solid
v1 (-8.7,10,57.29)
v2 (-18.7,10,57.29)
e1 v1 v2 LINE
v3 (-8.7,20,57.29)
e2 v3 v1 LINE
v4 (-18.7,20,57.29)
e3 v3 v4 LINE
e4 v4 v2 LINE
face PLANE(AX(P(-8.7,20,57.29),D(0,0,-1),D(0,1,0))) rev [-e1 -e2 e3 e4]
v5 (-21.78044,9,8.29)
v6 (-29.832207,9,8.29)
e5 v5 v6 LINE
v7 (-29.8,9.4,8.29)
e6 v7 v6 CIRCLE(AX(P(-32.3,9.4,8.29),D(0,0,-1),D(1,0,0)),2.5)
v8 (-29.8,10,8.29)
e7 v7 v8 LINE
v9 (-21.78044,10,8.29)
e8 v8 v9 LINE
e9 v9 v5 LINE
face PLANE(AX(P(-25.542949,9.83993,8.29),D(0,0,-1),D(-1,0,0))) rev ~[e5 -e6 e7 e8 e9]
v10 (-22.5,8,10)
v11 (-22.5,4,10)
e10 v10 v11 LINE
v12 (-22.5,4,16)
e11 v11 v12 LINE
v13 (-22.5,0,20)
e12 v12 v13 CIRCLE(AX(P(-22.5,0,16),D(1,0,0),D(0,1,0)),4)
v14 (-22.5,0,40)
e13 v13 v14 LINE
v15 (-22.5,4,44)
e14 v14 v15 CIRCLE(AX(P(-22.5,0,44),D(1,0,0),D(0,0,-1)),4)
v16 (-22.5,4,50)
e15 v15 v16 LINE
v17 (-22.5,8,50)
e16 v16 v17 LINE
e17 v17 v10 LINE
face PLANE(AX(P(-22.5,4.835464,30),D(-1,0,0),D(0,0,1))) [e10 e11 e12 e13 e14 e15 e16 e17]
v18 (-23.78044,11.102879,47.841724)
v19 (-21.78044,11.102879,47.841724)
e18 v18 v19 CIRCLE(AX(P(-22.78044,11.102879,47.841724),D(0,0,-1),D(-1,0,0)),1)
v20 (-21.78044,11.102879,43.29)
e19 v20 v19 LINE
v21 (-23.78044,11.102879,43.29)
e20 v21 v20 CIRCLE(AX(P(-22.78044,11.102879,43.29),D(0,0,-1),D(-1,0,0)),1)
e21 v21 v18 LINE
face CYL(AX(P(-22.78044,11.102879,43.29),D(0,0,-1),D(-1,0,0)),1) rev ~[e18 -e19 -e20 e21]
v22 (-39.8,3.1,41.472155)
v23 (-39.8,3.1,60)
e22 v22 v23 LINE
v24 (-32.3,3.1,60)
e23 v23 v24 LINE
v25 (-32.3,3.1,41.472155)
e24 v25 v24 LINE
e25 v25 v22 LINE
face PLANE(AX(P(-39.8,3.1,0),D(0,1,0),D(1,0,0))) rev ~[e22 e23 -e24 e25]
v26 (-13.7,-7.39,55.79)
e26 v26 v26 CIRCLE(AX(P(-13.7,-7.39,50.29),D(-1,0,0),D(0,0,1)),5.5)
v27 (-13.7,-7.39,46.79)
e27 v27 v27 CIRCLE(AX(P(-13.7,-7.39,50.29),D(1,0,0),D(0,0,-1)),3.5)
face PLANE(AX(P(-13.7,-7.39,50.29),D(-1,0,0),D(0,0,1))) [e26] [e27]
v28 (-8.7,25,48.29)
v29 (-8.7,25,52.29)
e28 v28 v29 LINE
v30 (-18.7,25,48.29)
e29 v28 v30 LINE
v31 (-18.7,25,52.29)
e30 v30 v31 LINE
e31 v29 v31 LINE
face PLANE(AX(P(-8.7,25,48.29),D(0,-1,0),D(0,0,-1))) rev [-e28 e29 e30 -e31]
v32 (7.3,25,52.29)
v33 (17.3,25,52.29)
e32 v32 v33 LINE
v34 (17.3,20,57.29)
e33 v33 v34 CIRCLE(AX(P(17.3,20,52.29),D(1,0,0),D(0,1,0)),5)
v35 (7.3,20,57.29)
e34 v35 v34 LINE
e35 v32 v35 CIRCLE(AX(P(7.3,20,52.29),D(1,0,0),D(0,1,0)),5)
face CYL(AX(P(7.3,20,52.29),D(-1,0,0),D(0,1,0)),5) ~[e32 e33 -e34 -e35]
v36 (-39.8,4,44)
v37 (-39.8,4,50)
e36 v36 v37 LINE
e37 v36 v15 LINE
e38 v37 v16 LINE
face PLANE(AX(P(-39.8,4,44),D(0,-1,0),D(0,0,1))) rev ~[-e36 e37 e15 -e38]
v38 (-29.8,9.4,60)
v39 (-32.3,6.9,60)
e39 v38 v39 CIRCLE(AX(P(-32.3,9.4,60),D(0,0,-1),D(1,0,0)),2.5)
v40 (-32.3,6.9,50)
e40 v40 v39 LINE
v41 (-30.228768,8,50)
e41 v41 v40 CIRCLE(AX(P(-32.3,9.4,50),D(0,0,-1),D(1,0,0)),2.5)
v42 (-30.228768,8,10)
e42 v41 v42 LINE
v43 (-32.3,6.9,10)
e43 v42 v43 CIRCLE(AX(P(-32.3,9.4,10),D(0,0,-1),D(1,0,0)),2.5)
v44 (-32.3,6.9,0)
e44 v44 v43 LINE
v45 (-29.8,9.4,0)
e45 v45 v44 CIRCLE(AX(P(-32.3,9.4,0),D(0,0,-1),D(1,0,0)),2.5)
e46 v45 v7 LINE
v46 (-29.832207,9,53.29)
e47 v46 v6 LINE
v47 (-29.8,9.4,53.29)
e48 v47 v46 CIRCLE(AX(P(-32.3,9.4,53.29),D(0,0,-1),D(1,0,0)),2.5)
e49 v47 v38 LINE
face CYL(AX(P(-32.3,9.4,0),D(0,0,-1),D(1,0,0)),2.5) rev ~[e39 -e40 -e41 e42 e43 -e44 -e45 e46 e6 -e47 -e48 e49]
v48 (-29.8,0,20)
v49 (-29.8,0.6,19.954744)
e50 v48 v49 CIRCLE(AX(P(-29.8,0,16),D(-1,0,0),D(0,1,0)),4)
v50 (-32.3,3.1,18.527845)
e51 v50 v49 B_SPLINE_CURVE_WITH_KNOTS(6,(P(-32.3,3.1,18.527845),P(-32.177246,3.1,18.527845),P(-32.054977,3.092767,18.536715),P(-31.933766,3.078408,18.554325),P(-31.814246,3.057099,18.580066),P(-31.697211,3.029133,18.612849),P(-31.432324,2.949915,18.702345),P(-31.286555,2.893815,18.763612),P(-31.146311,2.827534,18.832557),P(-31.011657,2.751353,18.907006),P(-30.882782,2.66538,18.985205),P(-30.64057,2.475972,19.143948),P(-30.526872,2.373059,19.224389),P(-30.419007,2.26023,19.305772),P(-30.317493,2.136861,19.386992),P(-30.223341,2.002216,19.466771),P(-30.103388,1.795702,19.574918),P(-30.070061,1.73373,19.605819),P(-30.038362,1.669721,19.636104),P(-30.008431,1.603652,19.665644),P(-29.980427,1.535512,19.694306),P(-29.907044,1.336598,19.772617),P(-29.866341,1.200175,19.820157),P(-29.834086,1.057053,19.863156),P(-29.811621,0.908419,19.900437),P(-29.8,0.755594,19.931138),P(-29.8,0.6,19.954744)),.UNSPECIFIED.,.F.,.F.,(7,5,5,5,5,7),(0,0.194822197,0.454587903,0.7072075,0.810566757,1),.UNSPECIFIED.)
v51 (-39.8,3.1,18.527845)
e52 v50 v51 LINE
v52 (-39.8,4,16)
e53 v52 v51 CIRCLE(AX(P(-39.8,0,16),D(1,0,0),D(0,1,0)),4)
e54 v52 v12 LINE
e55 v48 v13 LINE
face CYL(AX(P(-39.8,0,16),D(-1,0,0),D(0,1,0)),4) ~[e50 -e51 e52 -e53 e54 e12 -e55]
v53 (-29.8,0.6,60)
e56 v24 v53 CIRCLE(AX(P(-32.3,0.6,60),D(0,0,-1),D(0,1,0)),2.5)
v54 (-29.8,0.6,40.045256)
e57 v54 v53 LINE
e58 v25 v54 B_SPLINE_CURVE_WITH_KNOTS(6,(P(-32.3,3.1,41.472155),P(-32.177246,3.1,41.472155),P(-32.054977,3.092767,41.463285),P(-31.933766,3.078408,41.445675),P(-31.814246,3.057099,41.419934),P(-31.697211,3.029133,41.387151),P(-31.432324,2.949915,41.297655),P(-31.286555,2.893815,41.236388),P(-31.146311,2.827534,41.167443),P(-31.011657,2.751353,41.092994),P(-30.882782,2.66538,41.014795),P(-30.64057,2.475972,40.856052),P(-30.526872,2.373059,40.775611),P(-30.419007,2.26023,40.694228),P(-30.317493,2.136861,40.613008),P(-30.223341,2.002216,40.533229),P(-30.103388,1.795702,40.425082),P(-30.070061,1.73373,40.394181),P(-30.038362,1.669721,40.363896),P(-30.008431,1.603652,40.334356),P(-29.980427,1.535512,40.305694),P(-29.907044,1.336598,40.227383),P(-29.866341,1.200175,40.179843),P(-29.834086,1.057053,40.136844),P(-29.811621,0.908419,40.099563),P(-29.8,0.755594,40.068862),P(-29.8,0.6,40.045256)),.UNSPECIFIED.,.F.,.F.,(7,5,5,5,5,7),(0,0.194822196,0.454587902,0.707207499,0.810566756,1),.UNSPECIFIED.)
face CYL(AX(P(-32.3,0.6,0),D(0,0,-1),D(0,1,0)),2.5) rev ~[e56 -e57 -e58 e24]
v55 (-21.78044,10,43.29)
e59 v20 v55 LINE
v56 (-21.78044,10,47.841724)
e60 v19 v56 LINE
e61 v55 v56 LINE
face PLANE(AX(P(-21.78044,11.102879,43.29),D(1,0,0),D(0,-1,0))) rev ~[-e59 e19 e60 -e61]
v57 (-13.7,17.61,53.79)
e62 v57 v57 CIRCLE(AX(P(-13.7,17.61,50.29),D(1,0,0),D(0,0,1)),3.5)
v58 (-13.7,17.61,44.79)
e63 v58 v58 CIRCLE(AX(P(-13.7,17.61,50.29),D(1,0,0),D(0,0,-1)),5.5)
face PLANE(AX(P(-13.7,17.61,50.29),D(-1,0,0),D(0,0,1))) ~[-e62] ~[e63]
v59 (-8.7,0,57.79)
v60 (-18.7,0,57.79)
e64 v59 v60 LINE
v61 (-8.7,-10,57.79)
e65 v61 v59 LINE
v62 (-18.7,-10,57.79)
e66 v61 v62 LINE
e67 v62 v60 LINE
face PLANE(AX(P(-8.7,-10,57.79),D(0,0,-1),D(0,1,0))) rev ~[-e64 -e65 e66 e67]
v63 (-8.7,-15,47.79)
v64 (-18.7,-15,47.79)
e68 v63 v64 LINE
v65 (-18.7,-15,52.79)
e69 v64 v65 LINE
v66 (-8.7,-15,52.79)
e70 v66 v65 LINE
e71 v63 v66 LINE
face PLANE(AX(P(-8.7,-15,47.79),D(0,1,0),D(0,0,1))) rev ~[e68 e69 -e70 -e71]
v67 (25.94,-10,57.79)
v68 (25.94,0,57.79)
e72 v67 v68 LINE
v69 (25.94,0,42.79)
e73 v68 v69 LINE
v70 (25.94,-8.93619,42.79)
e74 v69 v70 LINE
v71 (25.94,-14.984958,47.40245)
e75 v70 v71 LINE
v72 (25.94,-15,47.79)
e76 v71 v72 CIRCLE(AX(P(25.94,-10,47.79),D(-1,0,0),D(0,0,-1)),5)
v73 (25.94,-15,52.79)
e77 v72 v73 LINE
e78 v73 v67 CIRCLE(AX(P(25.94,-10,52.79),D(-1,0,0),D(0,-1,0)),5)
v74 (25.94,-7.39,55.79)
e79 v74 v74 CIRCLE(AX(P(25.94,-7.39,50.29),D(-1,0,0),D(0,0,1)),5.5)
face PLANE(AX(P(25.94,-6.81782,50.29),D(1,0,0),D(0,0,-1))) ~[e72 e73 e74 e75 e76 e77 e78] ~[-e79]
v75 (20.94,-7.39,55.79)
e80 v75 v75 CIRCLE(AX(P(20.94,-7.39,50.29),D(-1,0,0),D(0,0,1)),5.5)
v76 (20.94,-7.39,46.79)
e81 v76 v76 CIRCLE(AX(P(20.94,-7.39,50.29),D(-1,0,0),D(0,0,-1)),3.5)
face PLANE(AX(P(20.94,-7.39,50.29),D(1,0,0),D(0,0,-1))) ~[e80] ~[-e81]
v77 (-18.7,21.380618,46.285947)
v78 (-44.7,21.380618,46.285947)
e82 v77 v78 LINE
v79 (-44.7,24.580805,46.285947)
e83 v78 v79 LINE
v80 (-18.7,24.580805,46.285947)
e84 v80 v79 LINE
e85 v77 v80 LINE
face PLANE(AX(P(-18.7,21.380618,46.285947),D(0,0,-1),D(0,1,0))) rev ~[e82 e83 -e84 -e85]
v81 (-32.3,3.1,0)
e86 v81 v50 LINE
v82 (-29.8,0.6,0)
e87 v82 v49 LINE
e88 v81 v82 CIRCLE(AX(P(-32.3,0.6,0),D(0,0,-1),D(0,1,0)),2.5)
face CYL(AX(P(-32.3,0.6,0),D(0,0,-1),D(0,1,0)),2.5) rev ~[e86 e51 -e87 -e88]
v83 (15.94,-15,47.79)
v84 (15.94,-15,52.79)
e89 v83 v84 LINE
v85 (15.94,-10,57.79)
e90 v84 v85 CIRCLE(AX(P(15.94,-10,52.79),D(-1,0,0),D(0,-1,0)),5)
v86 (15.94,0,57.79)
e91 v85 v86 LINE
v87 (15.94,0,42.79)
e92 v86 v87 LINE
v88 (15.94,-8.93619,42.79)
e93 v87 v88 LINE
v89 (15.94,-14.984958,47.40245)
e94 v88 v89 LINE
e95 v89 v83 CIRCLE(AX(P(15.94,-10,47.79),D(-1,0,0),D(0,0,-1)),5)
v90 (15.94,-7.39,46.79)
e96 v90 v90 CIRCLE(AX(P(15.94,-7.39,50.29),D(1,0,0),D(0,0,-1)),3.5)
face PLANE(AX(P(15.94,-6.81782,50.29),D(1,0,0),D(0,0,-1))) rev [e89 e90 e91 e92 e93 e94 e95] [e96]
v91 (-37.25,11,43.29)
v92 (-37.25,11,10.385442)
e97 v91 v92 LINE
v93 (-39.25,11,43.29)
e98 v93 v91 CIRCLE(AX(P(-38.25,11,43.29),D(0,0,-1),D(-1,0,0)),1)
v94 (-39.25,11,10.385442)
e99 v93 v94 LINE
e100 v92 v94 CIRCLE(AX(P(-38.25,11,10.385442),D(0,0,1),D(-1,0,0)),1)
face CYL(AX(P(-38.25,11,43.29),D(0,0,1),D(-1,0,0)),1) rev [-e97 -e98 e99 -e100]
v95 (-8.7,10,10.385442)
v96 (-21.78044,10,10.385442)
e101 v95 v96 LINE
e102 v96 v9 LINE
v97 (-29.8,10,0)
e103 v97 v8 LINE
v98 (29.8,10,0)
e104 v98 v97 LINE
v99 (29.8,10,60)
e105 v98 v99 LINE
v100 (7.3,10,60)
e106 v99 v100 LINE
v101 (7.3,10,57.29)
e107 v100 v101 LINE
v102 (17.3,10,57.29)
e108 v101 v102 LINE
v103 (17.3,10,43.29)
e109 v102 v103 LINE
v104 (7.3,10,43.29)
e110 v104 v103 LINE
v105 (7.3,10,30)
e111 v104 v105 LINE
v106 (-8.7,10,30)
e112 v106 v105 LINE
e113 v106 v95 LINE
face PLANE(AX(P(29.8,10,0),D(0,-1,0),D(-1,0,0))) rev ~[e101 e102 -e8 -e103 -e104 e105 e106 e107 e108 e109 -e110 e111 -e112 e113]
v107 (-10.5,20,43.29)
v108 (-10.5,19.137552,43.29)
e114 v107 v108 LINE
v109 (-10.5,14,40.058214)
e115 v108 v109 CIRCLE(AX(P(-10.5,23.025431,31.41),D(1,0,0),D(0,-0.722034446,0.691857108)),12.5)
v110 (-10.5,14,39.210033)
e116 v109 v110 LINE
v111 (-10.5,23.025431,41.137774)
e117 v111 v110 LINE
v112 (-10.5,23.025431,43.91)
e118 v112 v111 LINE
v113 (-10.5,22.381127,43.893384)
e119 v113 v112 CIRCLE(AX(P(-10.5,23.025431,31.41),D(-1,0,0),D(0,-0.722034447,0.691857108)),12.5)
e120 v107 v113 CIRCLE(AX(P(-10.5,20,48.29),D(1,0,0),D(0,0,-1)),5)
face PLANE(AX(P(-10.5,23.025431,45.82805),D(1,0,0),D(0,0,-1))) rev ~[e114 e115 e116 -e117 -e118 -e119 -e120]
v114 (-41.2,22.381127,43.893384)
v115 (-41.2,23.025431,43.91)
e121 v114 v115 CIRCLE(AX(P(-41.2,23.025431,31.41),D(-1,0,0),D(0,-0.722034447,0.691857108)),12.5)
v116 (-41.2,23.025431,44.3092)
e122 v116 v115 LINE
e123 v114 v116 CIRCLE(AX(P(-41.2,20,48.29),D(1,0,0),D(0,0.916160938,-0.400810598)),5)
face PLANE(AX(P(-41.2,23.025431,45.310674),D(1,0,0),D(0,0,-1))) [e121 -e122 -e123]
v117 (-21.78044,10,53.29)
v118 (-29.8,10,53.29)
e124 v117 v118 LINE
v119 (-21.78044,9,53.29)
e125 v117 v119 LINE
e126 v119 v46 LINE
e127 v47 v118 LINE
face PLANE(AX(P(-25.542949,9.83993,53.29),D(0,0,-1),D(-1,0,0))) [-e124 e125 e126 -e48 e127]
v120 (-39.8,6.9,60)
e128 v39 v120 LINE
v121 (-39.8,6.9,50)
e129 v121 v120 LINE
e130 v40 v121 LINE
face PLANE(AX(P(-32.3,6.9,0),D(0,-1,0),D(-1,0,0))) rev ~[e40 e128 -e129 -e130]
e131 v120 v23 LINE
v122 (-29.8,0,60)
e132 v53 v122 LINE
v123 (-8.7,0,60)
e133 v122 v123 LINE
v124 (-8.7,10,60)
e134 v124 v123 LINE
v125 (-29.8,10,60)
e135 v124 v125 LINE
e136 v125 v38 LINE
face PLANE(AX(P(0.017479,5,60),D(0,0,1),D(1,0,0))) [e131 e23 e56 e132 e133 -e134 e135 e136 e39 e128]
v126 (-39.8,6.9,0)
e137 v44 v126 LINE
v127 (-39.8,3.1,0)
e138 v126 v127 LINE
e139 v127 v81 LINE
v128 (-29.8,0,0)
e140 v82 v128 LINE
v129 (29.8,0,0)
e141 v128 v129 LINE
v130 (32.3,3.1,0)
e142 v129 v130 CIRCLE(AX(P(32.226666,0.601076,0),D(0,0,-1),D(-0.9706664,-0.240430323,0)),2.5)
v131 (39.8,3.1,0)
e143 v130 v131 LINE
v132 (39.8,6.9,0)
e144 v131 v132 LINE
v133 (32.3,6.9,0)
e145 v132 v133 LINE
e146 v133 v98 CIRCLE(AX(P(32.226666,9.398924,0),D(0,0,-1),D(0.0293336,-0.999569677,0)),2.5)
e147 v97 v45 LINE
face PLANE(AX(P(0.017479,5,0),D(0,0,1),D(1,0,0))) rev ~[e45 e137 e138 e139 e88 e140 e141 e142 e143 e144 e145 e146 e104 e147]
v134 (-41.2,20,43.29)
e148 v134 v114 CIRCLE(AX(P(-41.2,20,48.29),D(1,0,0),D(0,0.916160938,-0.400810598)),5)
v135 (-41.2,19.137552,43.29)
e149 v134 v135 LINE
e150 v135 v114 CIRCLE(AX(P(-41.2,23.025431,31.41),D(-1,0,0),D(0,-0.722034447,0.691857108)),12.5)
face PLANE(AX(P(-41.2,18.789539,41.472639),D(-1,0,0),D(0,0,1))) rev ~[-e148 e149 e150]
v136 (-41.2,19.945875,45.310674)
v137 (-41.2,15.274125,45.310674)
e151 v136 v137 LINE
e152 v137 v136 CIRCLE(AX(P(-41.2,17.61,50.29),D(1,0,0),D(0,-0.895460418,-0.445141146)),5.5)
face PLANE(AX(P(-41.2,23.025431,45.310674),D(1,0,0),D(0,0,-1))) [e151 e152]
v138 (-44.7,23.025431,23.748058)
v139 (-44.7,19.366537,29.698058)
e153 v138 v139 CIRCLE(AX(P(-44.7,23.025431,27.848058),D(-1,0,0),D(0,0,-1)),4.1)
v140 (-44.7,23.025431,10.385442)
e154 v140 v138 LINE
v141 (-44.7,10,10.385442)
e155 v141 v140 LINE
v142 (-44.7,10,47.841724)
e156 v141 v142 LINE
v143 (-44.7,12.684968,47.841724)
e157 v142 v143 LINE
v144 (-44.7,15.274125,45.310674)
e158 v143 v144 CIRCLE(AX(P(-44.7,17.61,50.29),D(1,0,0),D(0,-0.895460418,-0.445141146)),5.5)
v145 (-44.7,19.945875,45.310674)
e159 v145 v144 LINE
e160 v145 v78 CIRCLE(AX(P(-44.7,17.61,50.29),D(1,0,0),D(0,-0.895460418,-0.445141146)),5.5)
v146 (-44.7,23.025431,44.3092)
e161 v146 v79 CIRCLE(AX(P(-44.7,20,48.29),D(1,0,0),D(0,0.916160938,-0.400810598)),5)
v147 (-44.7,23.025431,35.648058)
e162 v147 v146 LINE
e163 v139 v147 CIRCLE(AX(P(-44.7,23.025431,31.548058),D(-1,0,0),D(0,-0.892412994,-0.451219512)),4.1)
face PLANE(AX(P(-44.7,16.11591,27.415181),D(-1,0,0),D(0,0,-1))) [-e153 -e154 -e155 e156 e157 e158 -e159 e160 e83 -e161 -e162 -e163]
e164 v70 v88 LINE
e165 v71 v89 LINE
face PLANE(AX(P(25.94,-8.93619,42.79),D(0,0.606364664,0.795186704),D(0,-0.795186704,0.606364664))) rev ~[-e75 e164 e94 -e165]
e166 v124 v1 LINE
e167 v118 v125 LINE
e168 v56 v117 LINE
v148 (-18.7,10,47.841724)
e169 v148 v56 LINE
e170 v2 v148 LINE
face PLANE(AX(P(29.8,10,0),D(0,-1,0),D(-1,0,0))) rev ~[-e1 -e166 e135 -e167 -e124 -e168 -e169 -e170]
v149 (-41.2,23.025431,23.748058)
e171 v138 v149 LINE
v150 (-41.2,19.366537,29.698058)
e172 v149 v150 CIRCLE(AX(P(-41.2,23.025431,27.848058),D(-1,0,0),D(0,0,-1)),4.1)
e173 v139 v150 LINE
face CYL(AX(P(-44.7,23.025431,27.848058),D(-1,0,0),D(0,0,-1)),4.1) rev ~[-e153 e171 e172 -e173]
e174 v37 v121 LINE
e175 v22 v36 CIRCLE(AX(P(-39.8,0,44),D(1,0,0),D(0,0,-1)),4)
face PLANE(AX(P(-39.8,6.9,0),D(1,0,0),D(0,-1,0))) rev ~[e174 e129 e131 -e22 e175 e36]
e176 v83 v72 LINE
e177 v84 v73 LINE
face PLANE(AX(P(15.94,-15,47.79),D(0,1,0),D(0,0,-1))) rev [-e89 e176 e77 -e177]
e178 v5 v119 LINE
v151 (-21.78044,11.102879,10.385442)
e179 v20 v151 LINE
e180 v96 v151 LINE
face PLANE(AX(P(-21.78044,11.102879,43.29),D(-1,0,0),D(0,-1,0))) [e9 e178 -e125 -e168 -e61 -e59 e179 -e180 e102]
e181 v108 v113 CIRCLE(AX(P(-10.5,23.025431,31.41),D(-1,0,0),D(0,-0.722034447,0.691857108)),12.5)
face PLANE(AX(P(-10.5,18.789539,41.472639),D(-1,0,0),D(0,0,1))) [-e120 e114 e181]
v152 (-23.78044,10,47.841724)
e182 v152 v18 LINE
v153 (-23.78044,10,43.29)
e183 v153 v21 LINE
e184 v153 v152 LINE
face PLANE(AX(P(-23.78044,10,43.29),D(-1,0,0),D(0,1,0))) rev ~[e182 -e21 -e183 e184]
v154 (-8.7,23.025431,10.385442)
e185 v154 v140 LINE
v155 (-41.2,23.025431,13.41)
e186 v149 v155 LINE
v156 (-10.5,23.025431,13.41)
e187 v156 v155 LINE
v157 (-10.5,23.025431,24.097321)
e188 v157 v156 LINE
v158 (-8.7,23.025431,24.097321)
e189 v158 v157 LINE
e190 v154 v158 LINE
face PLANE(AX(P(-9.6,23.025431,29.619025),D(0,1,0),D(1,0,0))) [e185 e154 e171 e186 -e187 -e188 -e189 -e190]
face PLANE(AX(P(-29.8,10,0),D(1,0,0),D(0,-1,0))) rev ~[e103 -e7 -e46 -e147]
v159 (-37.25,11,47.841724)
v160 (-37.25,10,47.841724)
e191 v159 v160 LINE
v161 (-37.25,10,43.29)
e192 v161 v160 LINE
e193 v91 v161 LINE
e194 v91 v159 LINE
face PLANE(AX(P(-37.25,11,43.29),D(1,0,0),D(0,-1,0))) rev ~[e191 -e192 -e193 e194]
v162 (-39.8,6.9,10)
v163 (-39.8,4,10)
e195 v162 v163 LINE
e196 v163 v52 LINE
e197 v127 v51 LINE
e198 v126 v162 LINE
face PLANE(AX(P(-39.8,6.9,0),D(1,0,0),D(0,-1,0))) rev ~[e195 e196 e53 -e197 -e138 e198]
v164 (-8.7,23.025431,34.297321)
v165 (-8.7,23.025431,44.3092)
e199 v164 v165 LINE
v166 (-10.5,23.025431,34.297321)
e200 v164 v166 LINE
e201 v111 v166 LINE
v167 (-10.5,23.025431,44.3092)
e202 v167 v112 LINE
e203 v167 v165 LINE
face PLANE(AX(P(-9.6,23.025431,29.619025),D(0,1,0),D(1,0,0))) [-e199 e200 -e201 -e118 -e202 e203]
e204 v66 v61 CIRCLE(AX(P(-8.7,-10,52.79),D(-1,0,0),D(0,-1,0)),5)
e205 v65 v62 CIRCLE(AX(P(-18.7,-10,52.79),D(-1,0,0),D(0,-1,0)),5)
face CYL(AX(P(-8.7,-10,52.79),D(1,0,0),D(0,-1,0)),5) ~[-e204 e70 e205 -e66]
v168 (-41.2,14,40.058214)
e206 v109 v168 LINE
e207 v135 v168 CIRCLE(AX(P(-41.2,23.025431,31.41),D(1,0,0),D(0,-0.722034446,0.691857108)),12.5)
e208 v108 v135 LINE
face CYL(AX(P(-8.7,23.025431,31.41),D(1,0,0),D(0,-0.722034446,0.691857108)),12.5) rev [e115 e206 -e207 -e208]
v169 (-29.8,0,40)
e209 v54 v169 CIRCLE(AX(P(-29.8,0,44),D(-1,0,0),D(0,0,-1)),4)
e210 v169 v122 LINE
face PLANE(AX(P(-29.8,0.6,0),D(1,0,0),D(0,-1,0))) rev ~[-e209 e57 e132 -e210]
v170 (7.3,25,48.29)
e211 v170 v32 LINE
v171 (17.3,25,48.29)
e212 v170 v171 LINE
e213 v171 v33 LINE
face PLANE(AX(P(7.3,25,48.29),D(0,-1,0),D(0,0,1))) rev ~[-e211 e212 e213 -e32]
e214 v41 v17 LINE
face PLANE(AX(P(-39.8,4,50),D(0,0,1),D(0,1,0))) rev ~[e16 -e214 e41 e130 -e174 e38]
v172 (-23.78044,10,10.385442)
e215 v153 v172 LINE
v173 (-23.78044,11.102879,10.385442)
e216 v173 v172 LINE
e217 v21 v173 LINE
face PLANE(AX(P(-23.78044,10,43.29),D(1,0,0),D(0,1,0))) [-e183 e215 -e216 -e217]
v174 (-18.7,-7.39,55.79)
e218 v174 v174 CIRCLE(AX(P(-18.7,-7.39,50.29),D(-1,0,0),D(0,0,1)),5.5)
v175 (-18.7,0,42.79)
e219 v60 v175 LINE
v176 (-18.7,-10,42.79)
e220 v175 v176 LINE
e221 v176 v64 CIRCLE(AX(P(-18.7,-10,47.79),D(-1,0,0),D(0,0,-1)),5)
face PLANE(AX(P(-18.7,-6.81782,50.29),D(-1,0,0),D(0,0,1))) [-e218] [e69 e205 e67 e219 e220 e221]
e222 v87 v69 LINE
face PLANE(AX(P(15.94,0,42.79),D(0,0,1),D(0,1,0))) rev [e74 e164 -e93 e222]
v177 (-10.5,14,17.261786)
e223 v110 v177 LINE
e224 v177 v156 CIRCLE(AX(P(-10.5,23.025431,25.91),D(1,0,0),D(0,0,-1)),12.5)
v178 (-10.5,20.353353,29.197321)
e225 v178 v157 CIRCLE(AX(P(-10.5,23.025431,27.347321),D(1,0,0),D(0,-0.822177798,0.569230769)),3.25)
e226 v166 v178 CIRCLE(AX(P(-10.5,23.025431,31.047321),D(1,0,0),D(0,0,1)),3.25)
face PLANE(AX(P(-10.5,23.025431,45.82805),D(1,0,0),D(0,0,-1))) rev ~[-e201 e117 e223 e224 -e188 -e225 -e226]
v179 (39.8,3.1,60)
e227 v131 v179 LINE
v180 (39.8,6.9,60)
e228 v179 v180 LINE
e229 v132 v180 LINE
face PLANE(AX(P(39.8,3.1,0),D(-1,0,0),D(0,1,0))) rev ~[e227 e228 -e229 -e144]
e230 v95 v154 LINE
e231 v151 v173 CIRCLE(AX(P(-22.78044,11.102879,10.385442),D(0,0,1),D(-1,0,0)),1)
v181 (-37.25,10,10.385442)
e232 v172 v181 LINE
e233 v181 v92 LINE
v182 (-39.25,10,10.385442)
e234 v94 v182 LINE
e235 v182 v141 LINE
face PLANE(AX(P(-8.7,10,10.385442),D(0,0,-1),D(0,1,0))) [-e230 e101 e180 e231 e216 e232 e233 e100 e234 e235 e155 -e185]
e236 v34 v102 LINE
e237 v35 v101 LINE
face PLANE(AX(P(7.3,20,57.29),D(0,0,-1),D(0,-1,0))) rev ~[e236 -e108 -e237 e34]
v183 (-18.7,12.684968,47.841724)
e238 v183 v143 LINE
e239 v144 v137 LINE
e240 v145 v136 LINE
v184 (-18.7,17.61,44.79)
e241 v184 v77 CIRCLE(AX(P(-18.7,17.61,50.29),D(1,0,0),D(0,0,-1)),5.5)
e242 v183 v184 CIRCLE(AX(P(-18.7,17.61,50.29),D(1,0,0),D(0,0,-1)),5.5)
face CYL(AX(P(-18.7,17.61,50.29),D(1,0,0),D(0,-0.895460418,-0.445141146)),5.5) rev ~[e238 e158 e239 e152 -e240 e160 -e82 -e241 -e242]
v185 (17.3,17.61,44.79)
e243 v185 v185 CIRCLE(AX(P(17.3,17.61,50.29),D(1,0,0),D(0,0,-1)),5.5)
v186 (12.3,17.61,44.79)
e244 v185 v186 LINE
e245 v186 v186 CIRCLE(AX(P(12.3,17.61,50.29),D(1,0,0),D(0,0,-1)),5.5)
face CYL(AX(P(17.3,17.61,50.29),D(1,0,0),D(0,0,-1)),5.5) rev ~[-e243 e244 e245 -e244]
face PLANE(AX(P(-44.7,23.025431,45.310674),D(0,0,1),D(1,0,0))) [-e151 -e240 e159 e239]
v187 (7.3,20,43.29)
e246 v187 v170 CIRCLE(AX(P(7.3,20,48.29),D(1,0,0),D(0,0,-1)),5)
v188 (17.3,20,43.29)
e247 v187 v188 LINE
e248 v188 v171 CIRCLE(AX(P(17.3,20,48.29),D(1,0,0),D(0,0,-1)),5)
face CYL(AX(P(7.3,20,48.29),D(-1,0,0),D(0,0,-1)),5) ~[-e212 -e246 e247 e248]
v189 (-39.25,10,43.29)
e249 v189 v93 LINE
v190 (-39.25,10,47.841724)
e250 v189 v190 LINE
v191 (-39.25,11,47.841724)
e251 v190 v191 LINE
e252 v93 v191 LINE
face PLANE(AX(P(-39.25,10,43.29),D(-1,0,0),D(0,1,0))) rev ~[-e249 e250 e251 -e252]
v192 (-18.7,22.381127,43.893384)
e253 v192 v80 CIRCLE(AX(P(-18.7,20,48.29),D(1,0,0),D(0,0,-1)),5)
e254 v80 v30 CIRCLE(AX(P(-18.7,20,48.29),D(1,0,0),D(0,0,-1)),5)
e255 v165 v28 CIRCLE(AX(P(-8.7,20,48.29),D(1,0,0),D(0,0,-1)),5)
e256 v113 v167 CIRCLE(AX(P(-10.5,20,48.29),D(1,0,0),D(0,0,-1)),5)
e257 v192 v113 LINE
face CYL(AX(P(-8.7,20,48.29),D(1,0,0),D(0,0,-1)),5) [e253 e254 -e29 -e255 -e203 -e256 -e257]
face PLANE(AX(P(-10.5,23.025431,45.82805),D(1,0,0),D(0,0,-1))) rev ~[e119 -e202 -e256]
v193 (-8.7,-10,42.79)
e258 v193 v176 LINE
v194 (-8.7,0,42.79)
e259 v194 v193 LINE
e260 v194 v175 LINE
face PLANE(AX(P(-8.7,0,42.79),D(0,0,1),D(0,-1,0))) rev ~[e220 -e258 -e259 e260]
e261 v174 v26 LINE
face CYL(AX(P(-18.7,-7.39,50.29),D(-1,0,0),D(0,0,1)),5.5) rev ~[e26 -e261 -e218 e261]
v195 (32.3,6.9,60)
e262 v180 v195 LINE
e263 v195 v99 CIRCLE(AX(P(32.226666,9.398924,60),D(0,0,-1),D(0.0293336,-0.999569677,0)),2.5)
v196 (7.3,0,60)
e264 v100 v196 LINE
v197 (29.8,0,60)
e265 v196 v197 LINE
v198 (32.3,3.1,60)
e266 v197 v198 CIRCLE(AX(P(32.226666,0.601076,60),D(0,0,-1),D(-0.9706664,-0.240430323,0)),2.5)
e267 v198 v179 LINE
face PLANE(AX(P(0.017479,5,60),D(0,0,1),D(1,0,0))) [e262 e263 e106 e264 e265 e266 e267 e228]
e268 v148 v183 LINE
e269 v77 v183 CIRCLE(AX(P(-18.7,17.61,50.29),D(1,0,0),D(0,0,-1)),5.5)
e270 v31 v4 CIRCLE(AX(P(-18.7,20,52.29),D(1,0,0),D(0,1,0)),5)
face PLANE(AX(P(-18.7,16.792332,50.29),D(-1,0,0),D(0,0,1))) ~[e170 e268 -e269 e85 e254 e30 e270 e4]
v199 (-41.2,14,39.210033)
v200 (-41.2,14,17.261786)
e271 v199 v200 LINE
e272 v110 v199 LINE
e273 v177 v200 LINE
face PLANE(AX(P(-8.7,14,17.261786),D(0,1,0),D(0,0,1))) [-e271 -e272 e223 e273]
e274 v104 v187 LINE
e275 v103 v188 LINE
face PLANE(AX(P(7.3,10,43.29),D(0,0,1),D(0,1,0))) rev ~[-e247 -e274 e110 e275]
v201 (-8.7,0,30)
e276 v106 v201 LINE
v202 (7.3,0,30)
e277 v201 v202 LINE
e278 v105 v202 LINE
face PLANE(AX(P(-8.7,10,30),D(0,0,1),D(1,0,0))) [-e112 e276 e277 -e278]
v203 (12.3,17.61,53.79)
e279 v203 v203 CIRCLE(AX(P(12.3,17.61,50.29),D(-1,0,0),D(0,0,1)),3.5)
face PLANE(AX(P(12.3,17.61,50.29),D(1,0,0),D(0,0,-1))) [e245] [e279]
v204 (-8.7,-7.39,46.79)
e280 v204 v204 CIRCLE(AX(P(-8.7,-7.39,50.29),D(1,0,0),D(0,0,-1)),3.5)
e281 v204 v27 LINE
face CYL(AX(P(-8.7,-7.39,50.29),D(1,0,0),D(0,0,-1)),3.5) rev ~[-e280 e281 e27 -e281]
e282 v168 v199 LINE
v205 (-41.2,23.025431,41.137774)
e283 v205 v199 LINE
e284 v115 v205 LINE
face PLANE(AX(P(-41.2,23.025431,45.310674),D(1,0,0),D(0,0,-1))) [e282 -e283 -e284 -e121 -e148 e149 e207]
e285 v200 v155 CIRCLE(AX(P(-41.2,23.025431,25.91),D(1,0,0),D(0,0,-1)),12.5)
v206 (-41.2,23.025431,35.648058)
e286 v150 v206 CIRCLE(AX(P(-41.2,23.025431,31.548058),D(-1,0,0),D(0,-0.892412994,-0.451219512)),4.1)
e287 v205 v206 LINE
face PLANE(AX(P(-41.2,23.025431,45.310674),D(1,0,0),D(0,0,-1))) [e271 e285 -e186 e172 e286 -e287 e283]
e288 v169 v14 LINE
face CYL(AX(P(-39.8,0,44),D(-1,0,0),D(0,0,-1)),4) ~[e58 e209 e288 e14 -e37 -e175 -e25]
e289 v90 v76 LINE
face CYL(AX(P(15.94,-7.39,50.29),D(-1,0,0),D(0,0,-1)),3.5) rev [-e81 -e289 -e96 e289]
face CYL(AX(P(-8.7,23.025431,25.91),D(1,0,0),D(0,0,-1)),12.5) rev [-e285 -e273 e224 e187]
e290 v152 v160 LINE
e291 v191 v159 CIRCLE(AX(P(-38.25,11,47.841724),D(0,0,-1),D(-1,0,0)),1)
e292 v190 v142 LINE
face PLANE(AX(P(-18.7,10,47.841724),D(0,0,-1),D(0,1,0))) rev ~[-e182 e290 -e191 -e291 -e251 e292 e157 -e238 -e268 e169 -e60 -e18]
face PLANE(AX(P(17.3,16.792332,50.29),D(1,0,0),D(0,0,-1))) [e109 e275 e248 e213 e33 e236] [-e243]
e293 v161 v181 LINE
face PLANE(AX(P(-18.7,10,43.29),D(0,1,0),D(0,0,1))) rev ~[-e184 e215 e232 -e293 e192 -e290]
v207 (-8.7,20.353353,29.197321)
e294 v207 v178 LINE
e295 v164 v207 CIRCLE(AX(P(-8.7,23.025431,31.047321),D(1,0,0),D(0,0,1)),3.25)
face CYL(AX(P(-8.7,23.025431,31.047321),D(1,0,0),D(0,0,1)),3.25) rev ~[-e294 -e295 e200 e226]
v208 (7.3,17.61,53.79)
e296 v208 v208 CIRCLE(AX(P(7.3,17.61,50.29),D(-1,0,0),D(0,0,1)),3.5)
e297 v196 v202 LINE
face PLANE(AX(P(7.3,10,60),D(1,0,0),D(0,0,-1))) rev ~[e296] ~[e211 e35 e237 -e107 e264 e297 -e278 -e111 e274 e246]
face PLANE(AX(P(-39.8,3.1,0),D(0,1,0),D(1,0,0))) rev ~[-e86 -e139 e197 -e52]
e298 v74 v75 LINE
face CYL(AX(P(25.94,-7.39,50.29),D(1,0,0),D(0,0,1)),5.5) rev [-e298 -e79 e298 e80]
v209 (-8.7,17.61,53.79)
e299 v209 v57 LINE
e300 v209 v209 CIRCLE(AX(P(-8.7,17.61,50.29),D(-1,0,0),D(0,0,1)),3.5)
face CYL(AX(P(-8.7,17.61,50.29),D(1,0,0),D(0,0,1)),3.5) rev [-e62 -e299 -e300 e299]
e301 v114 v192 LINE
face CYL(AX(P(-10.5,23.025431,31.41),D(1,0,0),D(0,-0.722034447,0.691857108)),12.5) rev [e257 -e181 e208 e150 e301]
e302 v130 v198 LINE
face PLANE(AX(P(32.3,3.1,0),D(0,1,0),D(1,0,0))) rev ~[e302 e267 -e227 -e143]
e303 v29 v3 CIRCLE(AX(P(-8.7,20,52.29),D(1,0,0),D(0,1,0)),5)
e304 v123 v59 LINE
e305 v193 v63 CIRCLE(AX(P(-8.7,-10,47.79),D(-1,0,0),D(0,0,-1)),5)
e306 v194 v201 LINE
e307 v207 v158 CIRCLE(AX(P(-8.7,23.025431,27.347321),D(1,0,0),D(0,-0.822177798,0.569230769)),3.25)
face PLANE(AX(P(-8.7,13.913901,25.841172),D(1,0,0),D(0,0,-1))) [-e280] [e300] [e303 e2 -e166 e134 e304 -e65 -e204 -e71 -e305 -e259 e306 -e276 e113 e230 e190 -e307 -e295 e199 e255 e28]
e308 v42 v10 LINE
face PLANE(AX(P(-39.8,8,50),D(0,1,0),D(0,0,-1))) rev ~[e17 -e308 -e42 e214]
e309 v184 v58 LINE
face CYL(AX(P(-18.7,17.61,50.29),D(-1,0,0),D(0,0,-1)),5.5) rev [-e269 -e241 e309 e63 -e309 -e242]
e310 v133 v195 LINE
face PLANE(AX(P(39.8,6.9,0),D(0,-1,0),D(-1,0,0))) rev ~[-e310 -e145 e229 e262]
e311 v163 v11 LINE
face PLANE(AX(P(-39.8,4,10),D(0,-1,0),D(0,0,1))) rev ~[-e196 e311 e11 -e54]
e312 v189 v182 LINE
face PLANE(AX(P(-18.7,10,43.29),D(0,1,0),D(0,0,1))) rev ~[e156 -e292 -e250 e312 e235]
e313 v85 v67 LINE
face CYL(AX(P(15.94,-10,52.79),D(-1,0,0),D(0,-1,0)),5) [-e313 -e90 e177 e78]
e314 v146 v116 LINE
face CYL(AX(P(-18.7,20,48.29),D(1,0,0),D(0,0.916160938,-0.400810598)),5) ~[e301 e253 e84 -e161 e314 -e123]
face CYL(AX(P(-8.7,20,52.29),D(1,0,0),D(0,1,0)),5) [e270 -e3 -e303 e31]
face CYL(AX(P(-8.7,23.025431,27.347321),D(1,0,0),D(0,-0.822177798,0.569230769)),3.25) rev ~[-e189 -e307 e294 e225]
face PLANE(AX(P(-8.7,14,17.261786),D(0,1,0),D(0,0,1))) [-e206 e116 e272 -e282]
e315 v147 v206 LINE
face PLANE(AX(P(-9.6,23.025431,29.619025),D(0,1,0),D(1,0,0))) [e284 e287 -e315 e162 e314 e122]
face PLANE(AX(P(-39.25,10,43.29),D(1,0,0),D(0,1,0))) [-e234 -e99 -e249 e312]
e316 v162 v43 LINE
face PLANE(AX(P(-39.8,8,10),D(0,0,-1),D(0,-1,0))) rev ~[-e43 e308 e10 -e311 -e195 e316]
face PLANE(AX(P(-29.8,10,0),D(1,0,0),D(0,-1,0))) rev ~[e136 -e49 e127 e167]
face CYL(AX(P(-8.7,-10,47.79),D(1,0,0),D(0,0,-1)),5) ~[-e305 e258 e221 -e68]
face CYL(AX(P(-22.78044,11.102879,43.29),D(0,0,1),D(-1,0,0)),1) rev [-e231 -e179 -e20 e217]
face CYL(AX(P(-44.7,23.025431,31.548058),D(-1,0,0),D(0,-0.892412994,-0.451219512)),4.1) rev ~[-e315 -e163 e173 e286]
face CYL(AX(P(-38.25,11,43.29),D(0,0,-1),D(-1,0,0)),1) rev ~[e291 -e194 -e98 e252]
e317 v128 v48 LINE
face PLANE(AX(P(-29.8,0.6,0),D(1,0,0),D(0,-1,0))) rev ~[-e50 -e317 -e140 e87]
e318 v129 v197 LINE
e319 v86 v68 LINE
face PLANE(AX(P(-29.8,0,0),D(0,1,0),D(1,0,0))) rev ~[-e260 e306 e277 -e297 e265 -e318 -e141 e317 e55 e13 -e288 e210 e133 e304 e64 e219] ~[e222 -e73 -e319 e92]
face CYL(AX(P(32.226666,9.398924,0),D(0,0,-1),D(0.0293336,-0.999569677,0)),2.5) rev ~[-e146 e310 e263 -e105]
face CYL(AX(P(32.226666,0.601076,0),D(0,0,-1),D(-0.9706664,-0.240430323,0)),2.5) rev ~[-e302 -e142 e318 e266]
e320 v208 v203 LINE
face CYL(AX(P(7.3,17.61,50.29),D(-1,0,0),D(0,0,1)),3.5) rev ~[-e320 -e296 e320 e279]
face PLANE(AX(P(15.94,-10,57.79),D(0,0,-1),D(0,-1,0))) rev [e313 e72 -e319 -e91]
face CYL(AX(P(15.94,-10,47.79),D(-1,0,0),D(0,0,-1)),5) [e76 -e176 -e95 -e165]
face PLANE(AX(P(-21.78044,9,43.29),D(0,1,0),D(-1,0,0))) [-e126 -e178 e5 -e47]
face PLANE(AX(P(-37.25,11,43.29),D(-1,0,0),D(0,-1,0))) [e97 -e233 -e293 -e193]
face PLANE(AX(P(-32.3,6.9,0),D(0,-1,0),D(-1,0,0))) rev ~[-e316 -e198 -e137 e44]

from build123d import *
from build123d.topology import SkipClean

# Parameters (mm, degrees)
EXTRUDE_1_DEPTH          = 60
CUT_EXTRUDE_1_DEPTH      = 17.3
SKETCH1_W                = 16
SKETCH1_H                = 30
CUT_EXTRUDE1_DEPTH       = 10
SKETCH2_R                = 3.5
BOSS_EXTRUDE1_DEPTH      = 10
SKETCH4_R                = 5.5
CUT_EXTRUDE4_DEPTH       = 5
SKETCH5_R                = 3.5
BOSS_EXTRUDE2_DEPTH      = 10
SKETCH6_R                = 5.5
CUT_EXTRUDE5_DEPTH       = 5
BOSS_EXTRUDE4_DEPTH      = 36
SKETCH8_W                = 1.8
SKETCH8_H                = 32.418049597
SKETCH8_W_2              = 3.5
SKETCH8_H_2              = 31.900673963
BOSS_EXTRUDE5_DEPTH      = 10
CUT_EXTRUDE6_DEPTH       = 10
CUT_EXTRUDE7_DEPTH       = 10
CUT_EXTRUDE9_DEPTH       = 10
CUT_EXTRUDE10_DEPTH      = 10
CUT_EXTRUDE10_DEPTH_BACK = 35
CUT_EXTRUDE8_DEPTH       = 24
CUT_EXTRUDE8_DEPTH_BACK  = 68.060525711
BOSS_EXTRUDE8_REACH      = 89.449
CUT_EXTRUDE12_DEPTH      = 30.7
CUT_EXTRUDE13_DEPTH      = 4.551723699
CUT_EXTRUDE14_DEPTH      = 14


with BuildPart() as part:
    # 스케치1 → 보스-돌출1 (new body)
    with BuildSketch(Plane.XY):
        with BuildLine():
            Line((29.8, 10), (-29.8, 10))
            Line((-29.8, 10), (-29.8, 9.4))
            ThreePointArc((-29.8, 9.4), (-30.532233047, 7.632233047), (-32.3, 6.9))
            Line((-32.3, 6.9), (-39.8, 6.9))
            Line((-39.8, 6.9), (-39.8, 3.1))
            Line((-39.8, 3.1), (-32.3, 3.1))
            ThreePointArc((-32.3, 3.1), (-30.532233047, 2.367766953), (-29.8, 0.6))
            Line((-29.8, 0.6), (-29.8, 0))
            Line((-29.8, 0), (29.8, 0))
            ThreePointArc((29.8, 0), (30.280633401, 2.170456935), (32.3, 3.1))
            Line((32.3, 3.1), (39.8, 3.1))
            Line((39.8, 3.1), (39.8, 6.9))
            Line((39.8, 6.9), (32.3, 6.9))
            ThreePointArc((32.3, 6.9), (30.280633401, 7.829543065), (29.8, 10))
        make_face()
    extrude(amount=EXTRUDE_1_DEPTH)

    # 스케치2 → 컷-돌출1 (cut)
    with BuildSketch(Plane.ZY.offset(39.8)):
        with BuildLine():
            Line((44, 4), (50, 4))
            Line((50, 4), (50, 8))
            Line((50, 8), (10, 8))
            Line((10, 8), (10, 4))
            Line((10, 4), (16, 4))
            ThreePointArc((16, 4), (18.828427125, 2.828427125), (20, 0))
            Line((20, 0), (40, 0))
            ThreePointArc((40, 0), (41.171572875, 2.828427125), (44, 4))
        make_face()
    extrude(amount=-CUT_EXTRUDE_1_DEPTH, mode=Mode.SUBTRACT)

    # Sketch1 → Cut-Extrude1 (cut)
    with BuildSketch(Plane(origin=(0, 10, 0), x_dir=(1, 0, 0), z_dir=(0, 1, 0))):
        with Locations((-0.7, -45)):
            Rectangle(SKETCH1_W, SKETCH1_H)
    extrude(amount=-CUT_EXTRUDE1_DEPTH, mode=Mode.SUBTRACT)

    # Sketch2 → Boss-Extrude1 (add)
    with BuildSketch(Plane.ZY.offset(-7.3)):
        with BuildLine():
            Line((57.29, 10), (43.29, 10))
            Line((43.29, 10), (43.29, 20))
            ThreePointArc((43.29, 20), (44.754466094, 23.535533906), (48.29, 25))
            Line((48.29, 25), (52.29, 25))
            ThreePointArc((52.29, 25), (55.825533906, 23.535533906), (57.29, 20))
            Line((57.29, 20), (57.29, 10))
        make_face()
        with Locations((50.29, 17.61)):
            Circle(SKETCH2_R, mode=Mode.SUBTRACT)
    boss_extrude1 = extrude(amount=-BOSS_EXTRUDE1_DEPTH)

    # Sketch4 → Cut-Extrude4 (cut)
    with BuildSketch(Plane(origin=(17.3, 0, 0), x_dir=(0, 0, -1), z_dir=(1, 0, 0))):
        with Locations((-50.29, 17.61)):
            Circle(SKETCH4_R)
    cut_extrude4 = extrude(amount=-CUT_EXTRUDE4_DEPTH, mode=Mode.SUBTRACT)

    # Mirror1: Boss-Extrude1, Cut-Extrude4 across plane
    add(boss_extrude1.mirror(Plane.ZY.offset(0.7)))
    add(cut_extrude4.mirror(Plane.ZY.offset(0.7)), mode=Mode.SUBTRACT)

    # Sketch5 → Boss-Extrude2 (add)
    with BuildSketch(Plane(origin=(-8.7, 0, 0), x_dir=(0, 0, -1), z_dir=(1, 0, 0))):
        with BuildLine():
            Line((-57.79, 0), (-42.79, 0))
            Line((-42.79, 0), (-42.79, -10))
            ThreePointArc((-42.79, -10), (-44.254466094, -13.535533906), (-47.79, -15))
            Line((-47.79, -15), (-52.79, -15))
            ThreePointArc((-52.79, -15), (-56.325533906, -13.535533906), (-57.79, -10))
            Line((-57.79, -10), (-57.79, 0))
        make_face()
        with Locations((-50.29, -7.39000045)):
            Circle(SKETCH5_R, mode=Mode.SUBTRACT)
    boss_extrude2 = extrude(amount=-BOSS_EXTRUDE2_DEPTH)

    # Sketch6 → Cut-Extrude5 (cut)
    with BuildSketch(Plane.ZY.offset(18.7)):
        with Locations((50.29, -7.39000045)):
            Circle(SKETCH6_R)
    cut_extrude5 = extrude(amount=-CUT_EXTRUDE5_DEPTH, mode=Mode.SUBTRACT)

    # Mirror2: Boss-Extrude2, Cut-Extrude5 across plane
    add(boss_extrude2.mirror(Plane(origin=(3.62, 0, 0), x_dir=(0, 0, 1), z_dir=(1, 0, 0))))
    add(cut_extrude5.mirror(Plane(origin=(3.62, 0, 0), x_dir=(0, 0, 1), z_dir=(1, 0, 0))), mode=Mode.SUBTRACT)

    # Sketch7 → Boss-Extrude4 (add)
    with BuildSketch(Plane(origin=(-8.7, 0, 0), x_dir=(0, 0, -1), z_dir=(1, 0, 0))):
        with BuildLine():
            Line((-17.261786151, 14), (-40.058213849, 14))
            ThreePointArc((-40.058213849, 14), (-41.99066638, 16.369643708), (-43.29, 19.137551985))
            Line((-43.29, 19.137551985), (-43.29, 10))
            Line((-43.29, 10), (-30, 10))
            Line((-30, 10), (-10.385441698, 10))
            Line((-10.385441698, 10), (-10.385441698, 23.025430584))
            Line((-10.385441698, 23.025430584), (-13.41, 23.025430584))
            ThreePointArc((-13.41, 23.025430584), (-14.413203205, 18.118938615), (-17.261786151, 14))
        make_face()
    extrude(amount=-BOSS_EXTRUDE4_DEPTH)

    # Sketch8 → Boss-Extrude5 (add)
    with BuildSketch(Plane(origin=(0, 23.025430584, 0), x_dir=(1, 0, 0), z_dir=(0, 1, 0))):
        with Locations((-9.6, -29.619024798)):
            Rectangle(SKETCH8_W, SKETCH8_H)
        with Locations((-42.95, -29.360336981)):
            Rectangle(SKETCH8_W_2, SKETCH8_H_2)
    extrude(amount=-BOSS_EXTRUDE5_DEPTH)

    # Sketch9 → Cut-Extrude6 (cut)
    with BuildSketch(Plane(origin=(-8.7, 0, 0), x_dir=(0, 0, -1), z_dir=(1, 0, 0))):
        with BuildLine():
            Line((-27.797320777, 23.025430584), (-24.097320777, 23.025430584))
            ThreePointArc((-24.097320777, 23.025430584), (-25.839010464, 25.904232418), (-29.197320777, 25.697508427))
            ThreePointArc((-29.197320777, 25.697508427), (-28.168518943, 24.533740897), (-27.797320777, 23.025430584))
        make_face()
        with BuildLine():
            ThreePointArc((-29.197320777, 20.353352741), (-25.839010464, 20.14662875), (-24.097320777, 23.025430584))
            Line((-24.097320777, 23.025430584), (-27.797320777, 23.025430584))
            ThreePointArc((-27.797320777, 23.025430584), (-28.168518943, 21.517120271), (-29.197320777, 20.353352741))
        make_face()
        with BuildLine():
            ThreePointArc((-27.797320777, 23.025430584), (-28.168518943, 24.533740897), (-29.197320777, 25.697508427))
            ThreePointArc((-29.197320777, 25.697508427), (-30.226122611, 24.533740897), (-30.597320777, 23.025430584))
            Line((-30.597320777, 23.025430584), (-27.797320777, 23.025430584))
        make_face()
        with BuildLine():
            ThreePointArc((-30.597320777, 23.025430584), (-30.226122611, 24.533740897), (-29.197320777, 25.697508427))
            ThreePointArc((-29.197320777, 25.697508427), (-32.55563109, 25.904232418), (-34.297320777, 23.025430584))
            Line((-34.297320777, 23.025430584), (-30.597320777, 23.025430584))
        make_face()
        with BuildLine():
            ThreePointArc((-34.297320777, 23.025430584), (-32.55563109, 20.14662875), (-29.197320777, 20.353352741))
            ThreePointArc((-29.197320777, 20.353352741), (-30.226122611, 21.517120271), (-30.597320777, 23.025430584))
            Line((-30.597320777, 23.025430584), (-34.297320777, 23.025430584))
        make_face()
        with BuildLine():
            ThreePointArc((-30.597320777, 23.025430584), (-30.226122611, 21.517120271), (-29.197320777, 20.353352741))
            ThreePointArc((-29.197320777, 20.353352741), (-28.168518943, 21.517120271), (-27.797320777, 23.025430584))
            Line((-27.797320777, 23.025430584), (-30.597320777, 23.025430584))
        make_face()
    extrude(amount=-CUT_EXTRUDE6_DEPTH, mode=Mode.SUBTRACT)

    # Sketch10 → Cut-Extrude7 (cut)
    with BuildSketch(Plane.ZY.offset(44.7)):
        with BuildLine():
            Line((27.44805783, 23.025430584), (31.94805783, 23.025430584))
            ThreePointArc((31.94805783, 23.025430584), (31.340549778, 25.173103744), (29.69805783, 26.684323859))
            ThreePointArc((29.69805783, 26.684323859), (28.055565883, 25.173103744), (27.44805783, 23.025430584))
        make_face()
        with BuildLine():
            Line((35.64805783, 23.025430584), (31.94805783, 23.025430584))
            ThreePointArc((31.94805783, 23.025430584), (31.340549778, 20.877757425), (29.69805783, 19.366537309))
            ThreePointArc((29.69805783, 19.366537309), (33.69573099, 19.532938637), (35.64805783, 23.025430584))
        make_face()
        with BuildLine():
            ThreePointArc((29.69805783, 26.684323859), (31.340549778, 25.173103744), (31.94805783, 23.025430584))
            Line((31.94805783, 23.025430584), (35.64805783, 23.025430584))
            ThreePointArc((35.64805783, 23.025430584), (33.69573099, 26.517922531), (29.69805783, 26.684323859))
        make_face()
        with BuildLine():
            ThreePointArc((29.69805783, 19.366537309), (31.340549778, 20.877757425), (31.94805783, 23.025430584))
            Line((31.94805783, 23.025430584), (27.44805783, 23.025430584))
            ThreePointArc((27.44805783, 23.025430584), (28.055565883, 20.877757425), (29.69805783, 19.366537309))
        make_face()
        with BuildLine():
            ThreePointArc((27.44805783, 23.025430584), (28.055565883, 25.173103744), (29.69805783, 26.684323859))
            ThreePointArc((29.69805783, 26.684323859), (25.700384671, 26.517922531), (23.74805783, 23.025430584))
            Line((23.74805783, 23.025430584), (27.44805783, 23.025430584))
        make_face()
        with BuildLine():
            ThreePointArc((23.74805783, 23.025430584), (25.700384671, 19.532938637), (29.69805783, 19.366537309))
            ThreePointArc((29.69805783, 19.366537309), (28.055565883, 20.877757425), (27.44805783, 23.025430584))
            Line((27.44805783, 23.025430584), (23.74805783, 23.025430584))
        make_face()
    extrude(amount=-CUT_EXTRUDE7_DEPTH, mode=Mode.SUBTRACT)

    # Sketch12 → Cut-Extrude9 (cut)
    with BuildSketch(Plane(origin=(25.94, 0, 0), x_dir=(0, 0, -1), z_dir=(1, 0, 0))):
        Polygon((-42.79, -8.93619037), (-47.402449947, -14.984957869), (-43.167493301, -15.543555396), (-40.889176965, -10), align=None)
    extrude(amount=-CUT_EXTRUDE9_DEPTH, mode=Mode.SUBTRACT)

    # Sketch13 → Cut-Extrude10 (cut, two sides)
    with BuildSketch(Plane.XY.offset(43.29)) as cut_extrude10_sk:
        with BuildLine():
            Line((-29.8, 10), (-23.780440028, 10))
            Line((-23.780440028, 10), (-23.780440028, 11.102878987))
            ThreePointArc((-23.780440028, 11.102878987), (-22.780440028, 12.102878987), (-21.780440028, 11.102878987))
            Line((-21.780440028, 11.102878987), (-21.780440028, 9))
            Line((-21.780440028, 9), (-30.475963693, 9))
            Line((-30.475963693, 9), (-29.8, 10))
        make_face()
    extrude(amount=CUT_EXTRUDE10_DEPTH, mode=Mode.SUBTRACT)
    extrude(cut_extrude10_sk.sketch, amount=-CUT_EXTRUDE10_DEPTH_BACK, mode=Mode.SUBTRACT)

    # Sketch11 → Cut-Extrude8 (cut, two sides)
    with BuildSketch(Plane.XY.offset(43.29)) as cut_extrude8_sk:
        with BuildLine():
            Line((-39.25, 10), (-39.25, 11))
            ThreePointArc((-39.25, 11), (-38.25, 12), (-37.25, 11))
            Line((-37.25, 11), (-37.25, 10))
            Line((-37.25, 10), (-39.25, 10))
        make_face()
    extrude(amount=CUT_EXTRUDE8_DEPTH, mode=Mode.SUBTRACT)
    extrude(cut_extrude8_sk.sketch, amount=-CUT_EXTRUDE8_DEPTH_BACK, mode=Mode.SUBTRACT)

    # Boss-Extrude8: up to this face of the body (flat: up to its plane)
    boss_extrude8_end = Plane(part.part.faces().sort_by_distance((-44.7, 16.115909844, 27.415180889))[0])
    # Sketch17 → Boss-Extrude8 (add, up to the picked face)
    with BuildSketch(Plane.ZY.offset(18.7), mode=Mode.PRIVATE) as boss_extrude8_sk1:
        with BuildLine():
            Line((43.29, 10), (47.841723699, 10))
            Line((47.841723699, 10), (47.841723699, 12.6849677))
            ThreePointArc((47.841723699, 12.6849677), (44.875969931, 16.641352279), (46.285947009, 21.380617939))
            Line((46.285947009, 21.380617939), (46.285947009, 24.58080469))
            ThreePointArc((46.285947009, 24.58080469), (44.10548898, 22.736762233), (43.29, 20))
            Line((43.29, 20), (43.29, 10))
        make_face()
    boss_extrude8_tool1 = split(extrude(boss_extrude8_sk1.sketch, amount=BOSS_EXTRUDE8_REACH, mode=Mode.PRIVATE), bisect_by=boss_extrude8_end, keep=Keep.BOTH, mode=Mode.PRIVATE)
    add(boss_extrude8_tool1.solids().sort_by(Axis((-18.7, 15.819122, 44.969973), (-1, 0, 0)))[0])

    # Sketch16 → Cut-Extrude12 (cut)
    with SkipClean():  # the faces are left unmerged after this step: merging them gives an invalid solid
        with BuildSketch(Plane.ZY.offset(10.5)):
            with BuildLine():
                Line((39.210033139, 14), (40.058213849, 14))
                ThreePointArc((40.058213849, 14), (42.906796795, 18.118938615), (43.91, 23.025430584))
                Line((43.91, 23.025430584), (41.137773768, 23.025430584))
                Line((41.137773768, 23.025430584), (39.210033139, 14))
            make_face()
        extrude(amount=CUT_EXTRUDE12_DEPTH, mode=Mode.SUBTRACT)

    # Sketch18 → Cut-Extrude13 (cut)
    with SkipClean():  # the faces are left unmerged after this step: merging them gives an invalid solid
        with BuildSketch(Plane(origin=(0, 0, 43.29), x_dir=(-1, 0, 0), z_dir=(0, 0, -1))):
            with BuildLine():
                Line((21.780440028, 11.102878987), (21.780440028, 10))
                Line((21.780440028, 10), (23.780440028, 10))
                Line((23.780440028, 10), (23.780440028, 11.102878987))
                ThreePointArc((23.780440028, 11.102878987), (22.780440028, 12.102878987), (21.780440028, 11.102878987))
            make_face()
        extrude(amount=-CUT_EXTRUDE13_DEPTH, mode=Mode.SUBTRACT)

    # Sketch19 → Cut-Extrude14 (cut)
    with SkipClean():  # the faces are left unmerged after this step: merging them gives an invalid solid
        with BuildSketch(Plane(origin=(0, 0, 43.29), x_dir=(-1, 0, 0), z_dir=(0, 0, -1))):
            with BuildLine():
                Line((37.25, 11), (37.25, 10))
                Line((37.25, 10), (39.25, 10))
                Line((39.25, 10), (39.25, 11))
                ThreePointArc((39.25, 11), (38.25, 12), (37.25, 11))
            make_face()
        extrude(amount=-CUT_EXTRUDE14_DEPTH, mode=Mode.SUBTRACT)


solid = part.part
